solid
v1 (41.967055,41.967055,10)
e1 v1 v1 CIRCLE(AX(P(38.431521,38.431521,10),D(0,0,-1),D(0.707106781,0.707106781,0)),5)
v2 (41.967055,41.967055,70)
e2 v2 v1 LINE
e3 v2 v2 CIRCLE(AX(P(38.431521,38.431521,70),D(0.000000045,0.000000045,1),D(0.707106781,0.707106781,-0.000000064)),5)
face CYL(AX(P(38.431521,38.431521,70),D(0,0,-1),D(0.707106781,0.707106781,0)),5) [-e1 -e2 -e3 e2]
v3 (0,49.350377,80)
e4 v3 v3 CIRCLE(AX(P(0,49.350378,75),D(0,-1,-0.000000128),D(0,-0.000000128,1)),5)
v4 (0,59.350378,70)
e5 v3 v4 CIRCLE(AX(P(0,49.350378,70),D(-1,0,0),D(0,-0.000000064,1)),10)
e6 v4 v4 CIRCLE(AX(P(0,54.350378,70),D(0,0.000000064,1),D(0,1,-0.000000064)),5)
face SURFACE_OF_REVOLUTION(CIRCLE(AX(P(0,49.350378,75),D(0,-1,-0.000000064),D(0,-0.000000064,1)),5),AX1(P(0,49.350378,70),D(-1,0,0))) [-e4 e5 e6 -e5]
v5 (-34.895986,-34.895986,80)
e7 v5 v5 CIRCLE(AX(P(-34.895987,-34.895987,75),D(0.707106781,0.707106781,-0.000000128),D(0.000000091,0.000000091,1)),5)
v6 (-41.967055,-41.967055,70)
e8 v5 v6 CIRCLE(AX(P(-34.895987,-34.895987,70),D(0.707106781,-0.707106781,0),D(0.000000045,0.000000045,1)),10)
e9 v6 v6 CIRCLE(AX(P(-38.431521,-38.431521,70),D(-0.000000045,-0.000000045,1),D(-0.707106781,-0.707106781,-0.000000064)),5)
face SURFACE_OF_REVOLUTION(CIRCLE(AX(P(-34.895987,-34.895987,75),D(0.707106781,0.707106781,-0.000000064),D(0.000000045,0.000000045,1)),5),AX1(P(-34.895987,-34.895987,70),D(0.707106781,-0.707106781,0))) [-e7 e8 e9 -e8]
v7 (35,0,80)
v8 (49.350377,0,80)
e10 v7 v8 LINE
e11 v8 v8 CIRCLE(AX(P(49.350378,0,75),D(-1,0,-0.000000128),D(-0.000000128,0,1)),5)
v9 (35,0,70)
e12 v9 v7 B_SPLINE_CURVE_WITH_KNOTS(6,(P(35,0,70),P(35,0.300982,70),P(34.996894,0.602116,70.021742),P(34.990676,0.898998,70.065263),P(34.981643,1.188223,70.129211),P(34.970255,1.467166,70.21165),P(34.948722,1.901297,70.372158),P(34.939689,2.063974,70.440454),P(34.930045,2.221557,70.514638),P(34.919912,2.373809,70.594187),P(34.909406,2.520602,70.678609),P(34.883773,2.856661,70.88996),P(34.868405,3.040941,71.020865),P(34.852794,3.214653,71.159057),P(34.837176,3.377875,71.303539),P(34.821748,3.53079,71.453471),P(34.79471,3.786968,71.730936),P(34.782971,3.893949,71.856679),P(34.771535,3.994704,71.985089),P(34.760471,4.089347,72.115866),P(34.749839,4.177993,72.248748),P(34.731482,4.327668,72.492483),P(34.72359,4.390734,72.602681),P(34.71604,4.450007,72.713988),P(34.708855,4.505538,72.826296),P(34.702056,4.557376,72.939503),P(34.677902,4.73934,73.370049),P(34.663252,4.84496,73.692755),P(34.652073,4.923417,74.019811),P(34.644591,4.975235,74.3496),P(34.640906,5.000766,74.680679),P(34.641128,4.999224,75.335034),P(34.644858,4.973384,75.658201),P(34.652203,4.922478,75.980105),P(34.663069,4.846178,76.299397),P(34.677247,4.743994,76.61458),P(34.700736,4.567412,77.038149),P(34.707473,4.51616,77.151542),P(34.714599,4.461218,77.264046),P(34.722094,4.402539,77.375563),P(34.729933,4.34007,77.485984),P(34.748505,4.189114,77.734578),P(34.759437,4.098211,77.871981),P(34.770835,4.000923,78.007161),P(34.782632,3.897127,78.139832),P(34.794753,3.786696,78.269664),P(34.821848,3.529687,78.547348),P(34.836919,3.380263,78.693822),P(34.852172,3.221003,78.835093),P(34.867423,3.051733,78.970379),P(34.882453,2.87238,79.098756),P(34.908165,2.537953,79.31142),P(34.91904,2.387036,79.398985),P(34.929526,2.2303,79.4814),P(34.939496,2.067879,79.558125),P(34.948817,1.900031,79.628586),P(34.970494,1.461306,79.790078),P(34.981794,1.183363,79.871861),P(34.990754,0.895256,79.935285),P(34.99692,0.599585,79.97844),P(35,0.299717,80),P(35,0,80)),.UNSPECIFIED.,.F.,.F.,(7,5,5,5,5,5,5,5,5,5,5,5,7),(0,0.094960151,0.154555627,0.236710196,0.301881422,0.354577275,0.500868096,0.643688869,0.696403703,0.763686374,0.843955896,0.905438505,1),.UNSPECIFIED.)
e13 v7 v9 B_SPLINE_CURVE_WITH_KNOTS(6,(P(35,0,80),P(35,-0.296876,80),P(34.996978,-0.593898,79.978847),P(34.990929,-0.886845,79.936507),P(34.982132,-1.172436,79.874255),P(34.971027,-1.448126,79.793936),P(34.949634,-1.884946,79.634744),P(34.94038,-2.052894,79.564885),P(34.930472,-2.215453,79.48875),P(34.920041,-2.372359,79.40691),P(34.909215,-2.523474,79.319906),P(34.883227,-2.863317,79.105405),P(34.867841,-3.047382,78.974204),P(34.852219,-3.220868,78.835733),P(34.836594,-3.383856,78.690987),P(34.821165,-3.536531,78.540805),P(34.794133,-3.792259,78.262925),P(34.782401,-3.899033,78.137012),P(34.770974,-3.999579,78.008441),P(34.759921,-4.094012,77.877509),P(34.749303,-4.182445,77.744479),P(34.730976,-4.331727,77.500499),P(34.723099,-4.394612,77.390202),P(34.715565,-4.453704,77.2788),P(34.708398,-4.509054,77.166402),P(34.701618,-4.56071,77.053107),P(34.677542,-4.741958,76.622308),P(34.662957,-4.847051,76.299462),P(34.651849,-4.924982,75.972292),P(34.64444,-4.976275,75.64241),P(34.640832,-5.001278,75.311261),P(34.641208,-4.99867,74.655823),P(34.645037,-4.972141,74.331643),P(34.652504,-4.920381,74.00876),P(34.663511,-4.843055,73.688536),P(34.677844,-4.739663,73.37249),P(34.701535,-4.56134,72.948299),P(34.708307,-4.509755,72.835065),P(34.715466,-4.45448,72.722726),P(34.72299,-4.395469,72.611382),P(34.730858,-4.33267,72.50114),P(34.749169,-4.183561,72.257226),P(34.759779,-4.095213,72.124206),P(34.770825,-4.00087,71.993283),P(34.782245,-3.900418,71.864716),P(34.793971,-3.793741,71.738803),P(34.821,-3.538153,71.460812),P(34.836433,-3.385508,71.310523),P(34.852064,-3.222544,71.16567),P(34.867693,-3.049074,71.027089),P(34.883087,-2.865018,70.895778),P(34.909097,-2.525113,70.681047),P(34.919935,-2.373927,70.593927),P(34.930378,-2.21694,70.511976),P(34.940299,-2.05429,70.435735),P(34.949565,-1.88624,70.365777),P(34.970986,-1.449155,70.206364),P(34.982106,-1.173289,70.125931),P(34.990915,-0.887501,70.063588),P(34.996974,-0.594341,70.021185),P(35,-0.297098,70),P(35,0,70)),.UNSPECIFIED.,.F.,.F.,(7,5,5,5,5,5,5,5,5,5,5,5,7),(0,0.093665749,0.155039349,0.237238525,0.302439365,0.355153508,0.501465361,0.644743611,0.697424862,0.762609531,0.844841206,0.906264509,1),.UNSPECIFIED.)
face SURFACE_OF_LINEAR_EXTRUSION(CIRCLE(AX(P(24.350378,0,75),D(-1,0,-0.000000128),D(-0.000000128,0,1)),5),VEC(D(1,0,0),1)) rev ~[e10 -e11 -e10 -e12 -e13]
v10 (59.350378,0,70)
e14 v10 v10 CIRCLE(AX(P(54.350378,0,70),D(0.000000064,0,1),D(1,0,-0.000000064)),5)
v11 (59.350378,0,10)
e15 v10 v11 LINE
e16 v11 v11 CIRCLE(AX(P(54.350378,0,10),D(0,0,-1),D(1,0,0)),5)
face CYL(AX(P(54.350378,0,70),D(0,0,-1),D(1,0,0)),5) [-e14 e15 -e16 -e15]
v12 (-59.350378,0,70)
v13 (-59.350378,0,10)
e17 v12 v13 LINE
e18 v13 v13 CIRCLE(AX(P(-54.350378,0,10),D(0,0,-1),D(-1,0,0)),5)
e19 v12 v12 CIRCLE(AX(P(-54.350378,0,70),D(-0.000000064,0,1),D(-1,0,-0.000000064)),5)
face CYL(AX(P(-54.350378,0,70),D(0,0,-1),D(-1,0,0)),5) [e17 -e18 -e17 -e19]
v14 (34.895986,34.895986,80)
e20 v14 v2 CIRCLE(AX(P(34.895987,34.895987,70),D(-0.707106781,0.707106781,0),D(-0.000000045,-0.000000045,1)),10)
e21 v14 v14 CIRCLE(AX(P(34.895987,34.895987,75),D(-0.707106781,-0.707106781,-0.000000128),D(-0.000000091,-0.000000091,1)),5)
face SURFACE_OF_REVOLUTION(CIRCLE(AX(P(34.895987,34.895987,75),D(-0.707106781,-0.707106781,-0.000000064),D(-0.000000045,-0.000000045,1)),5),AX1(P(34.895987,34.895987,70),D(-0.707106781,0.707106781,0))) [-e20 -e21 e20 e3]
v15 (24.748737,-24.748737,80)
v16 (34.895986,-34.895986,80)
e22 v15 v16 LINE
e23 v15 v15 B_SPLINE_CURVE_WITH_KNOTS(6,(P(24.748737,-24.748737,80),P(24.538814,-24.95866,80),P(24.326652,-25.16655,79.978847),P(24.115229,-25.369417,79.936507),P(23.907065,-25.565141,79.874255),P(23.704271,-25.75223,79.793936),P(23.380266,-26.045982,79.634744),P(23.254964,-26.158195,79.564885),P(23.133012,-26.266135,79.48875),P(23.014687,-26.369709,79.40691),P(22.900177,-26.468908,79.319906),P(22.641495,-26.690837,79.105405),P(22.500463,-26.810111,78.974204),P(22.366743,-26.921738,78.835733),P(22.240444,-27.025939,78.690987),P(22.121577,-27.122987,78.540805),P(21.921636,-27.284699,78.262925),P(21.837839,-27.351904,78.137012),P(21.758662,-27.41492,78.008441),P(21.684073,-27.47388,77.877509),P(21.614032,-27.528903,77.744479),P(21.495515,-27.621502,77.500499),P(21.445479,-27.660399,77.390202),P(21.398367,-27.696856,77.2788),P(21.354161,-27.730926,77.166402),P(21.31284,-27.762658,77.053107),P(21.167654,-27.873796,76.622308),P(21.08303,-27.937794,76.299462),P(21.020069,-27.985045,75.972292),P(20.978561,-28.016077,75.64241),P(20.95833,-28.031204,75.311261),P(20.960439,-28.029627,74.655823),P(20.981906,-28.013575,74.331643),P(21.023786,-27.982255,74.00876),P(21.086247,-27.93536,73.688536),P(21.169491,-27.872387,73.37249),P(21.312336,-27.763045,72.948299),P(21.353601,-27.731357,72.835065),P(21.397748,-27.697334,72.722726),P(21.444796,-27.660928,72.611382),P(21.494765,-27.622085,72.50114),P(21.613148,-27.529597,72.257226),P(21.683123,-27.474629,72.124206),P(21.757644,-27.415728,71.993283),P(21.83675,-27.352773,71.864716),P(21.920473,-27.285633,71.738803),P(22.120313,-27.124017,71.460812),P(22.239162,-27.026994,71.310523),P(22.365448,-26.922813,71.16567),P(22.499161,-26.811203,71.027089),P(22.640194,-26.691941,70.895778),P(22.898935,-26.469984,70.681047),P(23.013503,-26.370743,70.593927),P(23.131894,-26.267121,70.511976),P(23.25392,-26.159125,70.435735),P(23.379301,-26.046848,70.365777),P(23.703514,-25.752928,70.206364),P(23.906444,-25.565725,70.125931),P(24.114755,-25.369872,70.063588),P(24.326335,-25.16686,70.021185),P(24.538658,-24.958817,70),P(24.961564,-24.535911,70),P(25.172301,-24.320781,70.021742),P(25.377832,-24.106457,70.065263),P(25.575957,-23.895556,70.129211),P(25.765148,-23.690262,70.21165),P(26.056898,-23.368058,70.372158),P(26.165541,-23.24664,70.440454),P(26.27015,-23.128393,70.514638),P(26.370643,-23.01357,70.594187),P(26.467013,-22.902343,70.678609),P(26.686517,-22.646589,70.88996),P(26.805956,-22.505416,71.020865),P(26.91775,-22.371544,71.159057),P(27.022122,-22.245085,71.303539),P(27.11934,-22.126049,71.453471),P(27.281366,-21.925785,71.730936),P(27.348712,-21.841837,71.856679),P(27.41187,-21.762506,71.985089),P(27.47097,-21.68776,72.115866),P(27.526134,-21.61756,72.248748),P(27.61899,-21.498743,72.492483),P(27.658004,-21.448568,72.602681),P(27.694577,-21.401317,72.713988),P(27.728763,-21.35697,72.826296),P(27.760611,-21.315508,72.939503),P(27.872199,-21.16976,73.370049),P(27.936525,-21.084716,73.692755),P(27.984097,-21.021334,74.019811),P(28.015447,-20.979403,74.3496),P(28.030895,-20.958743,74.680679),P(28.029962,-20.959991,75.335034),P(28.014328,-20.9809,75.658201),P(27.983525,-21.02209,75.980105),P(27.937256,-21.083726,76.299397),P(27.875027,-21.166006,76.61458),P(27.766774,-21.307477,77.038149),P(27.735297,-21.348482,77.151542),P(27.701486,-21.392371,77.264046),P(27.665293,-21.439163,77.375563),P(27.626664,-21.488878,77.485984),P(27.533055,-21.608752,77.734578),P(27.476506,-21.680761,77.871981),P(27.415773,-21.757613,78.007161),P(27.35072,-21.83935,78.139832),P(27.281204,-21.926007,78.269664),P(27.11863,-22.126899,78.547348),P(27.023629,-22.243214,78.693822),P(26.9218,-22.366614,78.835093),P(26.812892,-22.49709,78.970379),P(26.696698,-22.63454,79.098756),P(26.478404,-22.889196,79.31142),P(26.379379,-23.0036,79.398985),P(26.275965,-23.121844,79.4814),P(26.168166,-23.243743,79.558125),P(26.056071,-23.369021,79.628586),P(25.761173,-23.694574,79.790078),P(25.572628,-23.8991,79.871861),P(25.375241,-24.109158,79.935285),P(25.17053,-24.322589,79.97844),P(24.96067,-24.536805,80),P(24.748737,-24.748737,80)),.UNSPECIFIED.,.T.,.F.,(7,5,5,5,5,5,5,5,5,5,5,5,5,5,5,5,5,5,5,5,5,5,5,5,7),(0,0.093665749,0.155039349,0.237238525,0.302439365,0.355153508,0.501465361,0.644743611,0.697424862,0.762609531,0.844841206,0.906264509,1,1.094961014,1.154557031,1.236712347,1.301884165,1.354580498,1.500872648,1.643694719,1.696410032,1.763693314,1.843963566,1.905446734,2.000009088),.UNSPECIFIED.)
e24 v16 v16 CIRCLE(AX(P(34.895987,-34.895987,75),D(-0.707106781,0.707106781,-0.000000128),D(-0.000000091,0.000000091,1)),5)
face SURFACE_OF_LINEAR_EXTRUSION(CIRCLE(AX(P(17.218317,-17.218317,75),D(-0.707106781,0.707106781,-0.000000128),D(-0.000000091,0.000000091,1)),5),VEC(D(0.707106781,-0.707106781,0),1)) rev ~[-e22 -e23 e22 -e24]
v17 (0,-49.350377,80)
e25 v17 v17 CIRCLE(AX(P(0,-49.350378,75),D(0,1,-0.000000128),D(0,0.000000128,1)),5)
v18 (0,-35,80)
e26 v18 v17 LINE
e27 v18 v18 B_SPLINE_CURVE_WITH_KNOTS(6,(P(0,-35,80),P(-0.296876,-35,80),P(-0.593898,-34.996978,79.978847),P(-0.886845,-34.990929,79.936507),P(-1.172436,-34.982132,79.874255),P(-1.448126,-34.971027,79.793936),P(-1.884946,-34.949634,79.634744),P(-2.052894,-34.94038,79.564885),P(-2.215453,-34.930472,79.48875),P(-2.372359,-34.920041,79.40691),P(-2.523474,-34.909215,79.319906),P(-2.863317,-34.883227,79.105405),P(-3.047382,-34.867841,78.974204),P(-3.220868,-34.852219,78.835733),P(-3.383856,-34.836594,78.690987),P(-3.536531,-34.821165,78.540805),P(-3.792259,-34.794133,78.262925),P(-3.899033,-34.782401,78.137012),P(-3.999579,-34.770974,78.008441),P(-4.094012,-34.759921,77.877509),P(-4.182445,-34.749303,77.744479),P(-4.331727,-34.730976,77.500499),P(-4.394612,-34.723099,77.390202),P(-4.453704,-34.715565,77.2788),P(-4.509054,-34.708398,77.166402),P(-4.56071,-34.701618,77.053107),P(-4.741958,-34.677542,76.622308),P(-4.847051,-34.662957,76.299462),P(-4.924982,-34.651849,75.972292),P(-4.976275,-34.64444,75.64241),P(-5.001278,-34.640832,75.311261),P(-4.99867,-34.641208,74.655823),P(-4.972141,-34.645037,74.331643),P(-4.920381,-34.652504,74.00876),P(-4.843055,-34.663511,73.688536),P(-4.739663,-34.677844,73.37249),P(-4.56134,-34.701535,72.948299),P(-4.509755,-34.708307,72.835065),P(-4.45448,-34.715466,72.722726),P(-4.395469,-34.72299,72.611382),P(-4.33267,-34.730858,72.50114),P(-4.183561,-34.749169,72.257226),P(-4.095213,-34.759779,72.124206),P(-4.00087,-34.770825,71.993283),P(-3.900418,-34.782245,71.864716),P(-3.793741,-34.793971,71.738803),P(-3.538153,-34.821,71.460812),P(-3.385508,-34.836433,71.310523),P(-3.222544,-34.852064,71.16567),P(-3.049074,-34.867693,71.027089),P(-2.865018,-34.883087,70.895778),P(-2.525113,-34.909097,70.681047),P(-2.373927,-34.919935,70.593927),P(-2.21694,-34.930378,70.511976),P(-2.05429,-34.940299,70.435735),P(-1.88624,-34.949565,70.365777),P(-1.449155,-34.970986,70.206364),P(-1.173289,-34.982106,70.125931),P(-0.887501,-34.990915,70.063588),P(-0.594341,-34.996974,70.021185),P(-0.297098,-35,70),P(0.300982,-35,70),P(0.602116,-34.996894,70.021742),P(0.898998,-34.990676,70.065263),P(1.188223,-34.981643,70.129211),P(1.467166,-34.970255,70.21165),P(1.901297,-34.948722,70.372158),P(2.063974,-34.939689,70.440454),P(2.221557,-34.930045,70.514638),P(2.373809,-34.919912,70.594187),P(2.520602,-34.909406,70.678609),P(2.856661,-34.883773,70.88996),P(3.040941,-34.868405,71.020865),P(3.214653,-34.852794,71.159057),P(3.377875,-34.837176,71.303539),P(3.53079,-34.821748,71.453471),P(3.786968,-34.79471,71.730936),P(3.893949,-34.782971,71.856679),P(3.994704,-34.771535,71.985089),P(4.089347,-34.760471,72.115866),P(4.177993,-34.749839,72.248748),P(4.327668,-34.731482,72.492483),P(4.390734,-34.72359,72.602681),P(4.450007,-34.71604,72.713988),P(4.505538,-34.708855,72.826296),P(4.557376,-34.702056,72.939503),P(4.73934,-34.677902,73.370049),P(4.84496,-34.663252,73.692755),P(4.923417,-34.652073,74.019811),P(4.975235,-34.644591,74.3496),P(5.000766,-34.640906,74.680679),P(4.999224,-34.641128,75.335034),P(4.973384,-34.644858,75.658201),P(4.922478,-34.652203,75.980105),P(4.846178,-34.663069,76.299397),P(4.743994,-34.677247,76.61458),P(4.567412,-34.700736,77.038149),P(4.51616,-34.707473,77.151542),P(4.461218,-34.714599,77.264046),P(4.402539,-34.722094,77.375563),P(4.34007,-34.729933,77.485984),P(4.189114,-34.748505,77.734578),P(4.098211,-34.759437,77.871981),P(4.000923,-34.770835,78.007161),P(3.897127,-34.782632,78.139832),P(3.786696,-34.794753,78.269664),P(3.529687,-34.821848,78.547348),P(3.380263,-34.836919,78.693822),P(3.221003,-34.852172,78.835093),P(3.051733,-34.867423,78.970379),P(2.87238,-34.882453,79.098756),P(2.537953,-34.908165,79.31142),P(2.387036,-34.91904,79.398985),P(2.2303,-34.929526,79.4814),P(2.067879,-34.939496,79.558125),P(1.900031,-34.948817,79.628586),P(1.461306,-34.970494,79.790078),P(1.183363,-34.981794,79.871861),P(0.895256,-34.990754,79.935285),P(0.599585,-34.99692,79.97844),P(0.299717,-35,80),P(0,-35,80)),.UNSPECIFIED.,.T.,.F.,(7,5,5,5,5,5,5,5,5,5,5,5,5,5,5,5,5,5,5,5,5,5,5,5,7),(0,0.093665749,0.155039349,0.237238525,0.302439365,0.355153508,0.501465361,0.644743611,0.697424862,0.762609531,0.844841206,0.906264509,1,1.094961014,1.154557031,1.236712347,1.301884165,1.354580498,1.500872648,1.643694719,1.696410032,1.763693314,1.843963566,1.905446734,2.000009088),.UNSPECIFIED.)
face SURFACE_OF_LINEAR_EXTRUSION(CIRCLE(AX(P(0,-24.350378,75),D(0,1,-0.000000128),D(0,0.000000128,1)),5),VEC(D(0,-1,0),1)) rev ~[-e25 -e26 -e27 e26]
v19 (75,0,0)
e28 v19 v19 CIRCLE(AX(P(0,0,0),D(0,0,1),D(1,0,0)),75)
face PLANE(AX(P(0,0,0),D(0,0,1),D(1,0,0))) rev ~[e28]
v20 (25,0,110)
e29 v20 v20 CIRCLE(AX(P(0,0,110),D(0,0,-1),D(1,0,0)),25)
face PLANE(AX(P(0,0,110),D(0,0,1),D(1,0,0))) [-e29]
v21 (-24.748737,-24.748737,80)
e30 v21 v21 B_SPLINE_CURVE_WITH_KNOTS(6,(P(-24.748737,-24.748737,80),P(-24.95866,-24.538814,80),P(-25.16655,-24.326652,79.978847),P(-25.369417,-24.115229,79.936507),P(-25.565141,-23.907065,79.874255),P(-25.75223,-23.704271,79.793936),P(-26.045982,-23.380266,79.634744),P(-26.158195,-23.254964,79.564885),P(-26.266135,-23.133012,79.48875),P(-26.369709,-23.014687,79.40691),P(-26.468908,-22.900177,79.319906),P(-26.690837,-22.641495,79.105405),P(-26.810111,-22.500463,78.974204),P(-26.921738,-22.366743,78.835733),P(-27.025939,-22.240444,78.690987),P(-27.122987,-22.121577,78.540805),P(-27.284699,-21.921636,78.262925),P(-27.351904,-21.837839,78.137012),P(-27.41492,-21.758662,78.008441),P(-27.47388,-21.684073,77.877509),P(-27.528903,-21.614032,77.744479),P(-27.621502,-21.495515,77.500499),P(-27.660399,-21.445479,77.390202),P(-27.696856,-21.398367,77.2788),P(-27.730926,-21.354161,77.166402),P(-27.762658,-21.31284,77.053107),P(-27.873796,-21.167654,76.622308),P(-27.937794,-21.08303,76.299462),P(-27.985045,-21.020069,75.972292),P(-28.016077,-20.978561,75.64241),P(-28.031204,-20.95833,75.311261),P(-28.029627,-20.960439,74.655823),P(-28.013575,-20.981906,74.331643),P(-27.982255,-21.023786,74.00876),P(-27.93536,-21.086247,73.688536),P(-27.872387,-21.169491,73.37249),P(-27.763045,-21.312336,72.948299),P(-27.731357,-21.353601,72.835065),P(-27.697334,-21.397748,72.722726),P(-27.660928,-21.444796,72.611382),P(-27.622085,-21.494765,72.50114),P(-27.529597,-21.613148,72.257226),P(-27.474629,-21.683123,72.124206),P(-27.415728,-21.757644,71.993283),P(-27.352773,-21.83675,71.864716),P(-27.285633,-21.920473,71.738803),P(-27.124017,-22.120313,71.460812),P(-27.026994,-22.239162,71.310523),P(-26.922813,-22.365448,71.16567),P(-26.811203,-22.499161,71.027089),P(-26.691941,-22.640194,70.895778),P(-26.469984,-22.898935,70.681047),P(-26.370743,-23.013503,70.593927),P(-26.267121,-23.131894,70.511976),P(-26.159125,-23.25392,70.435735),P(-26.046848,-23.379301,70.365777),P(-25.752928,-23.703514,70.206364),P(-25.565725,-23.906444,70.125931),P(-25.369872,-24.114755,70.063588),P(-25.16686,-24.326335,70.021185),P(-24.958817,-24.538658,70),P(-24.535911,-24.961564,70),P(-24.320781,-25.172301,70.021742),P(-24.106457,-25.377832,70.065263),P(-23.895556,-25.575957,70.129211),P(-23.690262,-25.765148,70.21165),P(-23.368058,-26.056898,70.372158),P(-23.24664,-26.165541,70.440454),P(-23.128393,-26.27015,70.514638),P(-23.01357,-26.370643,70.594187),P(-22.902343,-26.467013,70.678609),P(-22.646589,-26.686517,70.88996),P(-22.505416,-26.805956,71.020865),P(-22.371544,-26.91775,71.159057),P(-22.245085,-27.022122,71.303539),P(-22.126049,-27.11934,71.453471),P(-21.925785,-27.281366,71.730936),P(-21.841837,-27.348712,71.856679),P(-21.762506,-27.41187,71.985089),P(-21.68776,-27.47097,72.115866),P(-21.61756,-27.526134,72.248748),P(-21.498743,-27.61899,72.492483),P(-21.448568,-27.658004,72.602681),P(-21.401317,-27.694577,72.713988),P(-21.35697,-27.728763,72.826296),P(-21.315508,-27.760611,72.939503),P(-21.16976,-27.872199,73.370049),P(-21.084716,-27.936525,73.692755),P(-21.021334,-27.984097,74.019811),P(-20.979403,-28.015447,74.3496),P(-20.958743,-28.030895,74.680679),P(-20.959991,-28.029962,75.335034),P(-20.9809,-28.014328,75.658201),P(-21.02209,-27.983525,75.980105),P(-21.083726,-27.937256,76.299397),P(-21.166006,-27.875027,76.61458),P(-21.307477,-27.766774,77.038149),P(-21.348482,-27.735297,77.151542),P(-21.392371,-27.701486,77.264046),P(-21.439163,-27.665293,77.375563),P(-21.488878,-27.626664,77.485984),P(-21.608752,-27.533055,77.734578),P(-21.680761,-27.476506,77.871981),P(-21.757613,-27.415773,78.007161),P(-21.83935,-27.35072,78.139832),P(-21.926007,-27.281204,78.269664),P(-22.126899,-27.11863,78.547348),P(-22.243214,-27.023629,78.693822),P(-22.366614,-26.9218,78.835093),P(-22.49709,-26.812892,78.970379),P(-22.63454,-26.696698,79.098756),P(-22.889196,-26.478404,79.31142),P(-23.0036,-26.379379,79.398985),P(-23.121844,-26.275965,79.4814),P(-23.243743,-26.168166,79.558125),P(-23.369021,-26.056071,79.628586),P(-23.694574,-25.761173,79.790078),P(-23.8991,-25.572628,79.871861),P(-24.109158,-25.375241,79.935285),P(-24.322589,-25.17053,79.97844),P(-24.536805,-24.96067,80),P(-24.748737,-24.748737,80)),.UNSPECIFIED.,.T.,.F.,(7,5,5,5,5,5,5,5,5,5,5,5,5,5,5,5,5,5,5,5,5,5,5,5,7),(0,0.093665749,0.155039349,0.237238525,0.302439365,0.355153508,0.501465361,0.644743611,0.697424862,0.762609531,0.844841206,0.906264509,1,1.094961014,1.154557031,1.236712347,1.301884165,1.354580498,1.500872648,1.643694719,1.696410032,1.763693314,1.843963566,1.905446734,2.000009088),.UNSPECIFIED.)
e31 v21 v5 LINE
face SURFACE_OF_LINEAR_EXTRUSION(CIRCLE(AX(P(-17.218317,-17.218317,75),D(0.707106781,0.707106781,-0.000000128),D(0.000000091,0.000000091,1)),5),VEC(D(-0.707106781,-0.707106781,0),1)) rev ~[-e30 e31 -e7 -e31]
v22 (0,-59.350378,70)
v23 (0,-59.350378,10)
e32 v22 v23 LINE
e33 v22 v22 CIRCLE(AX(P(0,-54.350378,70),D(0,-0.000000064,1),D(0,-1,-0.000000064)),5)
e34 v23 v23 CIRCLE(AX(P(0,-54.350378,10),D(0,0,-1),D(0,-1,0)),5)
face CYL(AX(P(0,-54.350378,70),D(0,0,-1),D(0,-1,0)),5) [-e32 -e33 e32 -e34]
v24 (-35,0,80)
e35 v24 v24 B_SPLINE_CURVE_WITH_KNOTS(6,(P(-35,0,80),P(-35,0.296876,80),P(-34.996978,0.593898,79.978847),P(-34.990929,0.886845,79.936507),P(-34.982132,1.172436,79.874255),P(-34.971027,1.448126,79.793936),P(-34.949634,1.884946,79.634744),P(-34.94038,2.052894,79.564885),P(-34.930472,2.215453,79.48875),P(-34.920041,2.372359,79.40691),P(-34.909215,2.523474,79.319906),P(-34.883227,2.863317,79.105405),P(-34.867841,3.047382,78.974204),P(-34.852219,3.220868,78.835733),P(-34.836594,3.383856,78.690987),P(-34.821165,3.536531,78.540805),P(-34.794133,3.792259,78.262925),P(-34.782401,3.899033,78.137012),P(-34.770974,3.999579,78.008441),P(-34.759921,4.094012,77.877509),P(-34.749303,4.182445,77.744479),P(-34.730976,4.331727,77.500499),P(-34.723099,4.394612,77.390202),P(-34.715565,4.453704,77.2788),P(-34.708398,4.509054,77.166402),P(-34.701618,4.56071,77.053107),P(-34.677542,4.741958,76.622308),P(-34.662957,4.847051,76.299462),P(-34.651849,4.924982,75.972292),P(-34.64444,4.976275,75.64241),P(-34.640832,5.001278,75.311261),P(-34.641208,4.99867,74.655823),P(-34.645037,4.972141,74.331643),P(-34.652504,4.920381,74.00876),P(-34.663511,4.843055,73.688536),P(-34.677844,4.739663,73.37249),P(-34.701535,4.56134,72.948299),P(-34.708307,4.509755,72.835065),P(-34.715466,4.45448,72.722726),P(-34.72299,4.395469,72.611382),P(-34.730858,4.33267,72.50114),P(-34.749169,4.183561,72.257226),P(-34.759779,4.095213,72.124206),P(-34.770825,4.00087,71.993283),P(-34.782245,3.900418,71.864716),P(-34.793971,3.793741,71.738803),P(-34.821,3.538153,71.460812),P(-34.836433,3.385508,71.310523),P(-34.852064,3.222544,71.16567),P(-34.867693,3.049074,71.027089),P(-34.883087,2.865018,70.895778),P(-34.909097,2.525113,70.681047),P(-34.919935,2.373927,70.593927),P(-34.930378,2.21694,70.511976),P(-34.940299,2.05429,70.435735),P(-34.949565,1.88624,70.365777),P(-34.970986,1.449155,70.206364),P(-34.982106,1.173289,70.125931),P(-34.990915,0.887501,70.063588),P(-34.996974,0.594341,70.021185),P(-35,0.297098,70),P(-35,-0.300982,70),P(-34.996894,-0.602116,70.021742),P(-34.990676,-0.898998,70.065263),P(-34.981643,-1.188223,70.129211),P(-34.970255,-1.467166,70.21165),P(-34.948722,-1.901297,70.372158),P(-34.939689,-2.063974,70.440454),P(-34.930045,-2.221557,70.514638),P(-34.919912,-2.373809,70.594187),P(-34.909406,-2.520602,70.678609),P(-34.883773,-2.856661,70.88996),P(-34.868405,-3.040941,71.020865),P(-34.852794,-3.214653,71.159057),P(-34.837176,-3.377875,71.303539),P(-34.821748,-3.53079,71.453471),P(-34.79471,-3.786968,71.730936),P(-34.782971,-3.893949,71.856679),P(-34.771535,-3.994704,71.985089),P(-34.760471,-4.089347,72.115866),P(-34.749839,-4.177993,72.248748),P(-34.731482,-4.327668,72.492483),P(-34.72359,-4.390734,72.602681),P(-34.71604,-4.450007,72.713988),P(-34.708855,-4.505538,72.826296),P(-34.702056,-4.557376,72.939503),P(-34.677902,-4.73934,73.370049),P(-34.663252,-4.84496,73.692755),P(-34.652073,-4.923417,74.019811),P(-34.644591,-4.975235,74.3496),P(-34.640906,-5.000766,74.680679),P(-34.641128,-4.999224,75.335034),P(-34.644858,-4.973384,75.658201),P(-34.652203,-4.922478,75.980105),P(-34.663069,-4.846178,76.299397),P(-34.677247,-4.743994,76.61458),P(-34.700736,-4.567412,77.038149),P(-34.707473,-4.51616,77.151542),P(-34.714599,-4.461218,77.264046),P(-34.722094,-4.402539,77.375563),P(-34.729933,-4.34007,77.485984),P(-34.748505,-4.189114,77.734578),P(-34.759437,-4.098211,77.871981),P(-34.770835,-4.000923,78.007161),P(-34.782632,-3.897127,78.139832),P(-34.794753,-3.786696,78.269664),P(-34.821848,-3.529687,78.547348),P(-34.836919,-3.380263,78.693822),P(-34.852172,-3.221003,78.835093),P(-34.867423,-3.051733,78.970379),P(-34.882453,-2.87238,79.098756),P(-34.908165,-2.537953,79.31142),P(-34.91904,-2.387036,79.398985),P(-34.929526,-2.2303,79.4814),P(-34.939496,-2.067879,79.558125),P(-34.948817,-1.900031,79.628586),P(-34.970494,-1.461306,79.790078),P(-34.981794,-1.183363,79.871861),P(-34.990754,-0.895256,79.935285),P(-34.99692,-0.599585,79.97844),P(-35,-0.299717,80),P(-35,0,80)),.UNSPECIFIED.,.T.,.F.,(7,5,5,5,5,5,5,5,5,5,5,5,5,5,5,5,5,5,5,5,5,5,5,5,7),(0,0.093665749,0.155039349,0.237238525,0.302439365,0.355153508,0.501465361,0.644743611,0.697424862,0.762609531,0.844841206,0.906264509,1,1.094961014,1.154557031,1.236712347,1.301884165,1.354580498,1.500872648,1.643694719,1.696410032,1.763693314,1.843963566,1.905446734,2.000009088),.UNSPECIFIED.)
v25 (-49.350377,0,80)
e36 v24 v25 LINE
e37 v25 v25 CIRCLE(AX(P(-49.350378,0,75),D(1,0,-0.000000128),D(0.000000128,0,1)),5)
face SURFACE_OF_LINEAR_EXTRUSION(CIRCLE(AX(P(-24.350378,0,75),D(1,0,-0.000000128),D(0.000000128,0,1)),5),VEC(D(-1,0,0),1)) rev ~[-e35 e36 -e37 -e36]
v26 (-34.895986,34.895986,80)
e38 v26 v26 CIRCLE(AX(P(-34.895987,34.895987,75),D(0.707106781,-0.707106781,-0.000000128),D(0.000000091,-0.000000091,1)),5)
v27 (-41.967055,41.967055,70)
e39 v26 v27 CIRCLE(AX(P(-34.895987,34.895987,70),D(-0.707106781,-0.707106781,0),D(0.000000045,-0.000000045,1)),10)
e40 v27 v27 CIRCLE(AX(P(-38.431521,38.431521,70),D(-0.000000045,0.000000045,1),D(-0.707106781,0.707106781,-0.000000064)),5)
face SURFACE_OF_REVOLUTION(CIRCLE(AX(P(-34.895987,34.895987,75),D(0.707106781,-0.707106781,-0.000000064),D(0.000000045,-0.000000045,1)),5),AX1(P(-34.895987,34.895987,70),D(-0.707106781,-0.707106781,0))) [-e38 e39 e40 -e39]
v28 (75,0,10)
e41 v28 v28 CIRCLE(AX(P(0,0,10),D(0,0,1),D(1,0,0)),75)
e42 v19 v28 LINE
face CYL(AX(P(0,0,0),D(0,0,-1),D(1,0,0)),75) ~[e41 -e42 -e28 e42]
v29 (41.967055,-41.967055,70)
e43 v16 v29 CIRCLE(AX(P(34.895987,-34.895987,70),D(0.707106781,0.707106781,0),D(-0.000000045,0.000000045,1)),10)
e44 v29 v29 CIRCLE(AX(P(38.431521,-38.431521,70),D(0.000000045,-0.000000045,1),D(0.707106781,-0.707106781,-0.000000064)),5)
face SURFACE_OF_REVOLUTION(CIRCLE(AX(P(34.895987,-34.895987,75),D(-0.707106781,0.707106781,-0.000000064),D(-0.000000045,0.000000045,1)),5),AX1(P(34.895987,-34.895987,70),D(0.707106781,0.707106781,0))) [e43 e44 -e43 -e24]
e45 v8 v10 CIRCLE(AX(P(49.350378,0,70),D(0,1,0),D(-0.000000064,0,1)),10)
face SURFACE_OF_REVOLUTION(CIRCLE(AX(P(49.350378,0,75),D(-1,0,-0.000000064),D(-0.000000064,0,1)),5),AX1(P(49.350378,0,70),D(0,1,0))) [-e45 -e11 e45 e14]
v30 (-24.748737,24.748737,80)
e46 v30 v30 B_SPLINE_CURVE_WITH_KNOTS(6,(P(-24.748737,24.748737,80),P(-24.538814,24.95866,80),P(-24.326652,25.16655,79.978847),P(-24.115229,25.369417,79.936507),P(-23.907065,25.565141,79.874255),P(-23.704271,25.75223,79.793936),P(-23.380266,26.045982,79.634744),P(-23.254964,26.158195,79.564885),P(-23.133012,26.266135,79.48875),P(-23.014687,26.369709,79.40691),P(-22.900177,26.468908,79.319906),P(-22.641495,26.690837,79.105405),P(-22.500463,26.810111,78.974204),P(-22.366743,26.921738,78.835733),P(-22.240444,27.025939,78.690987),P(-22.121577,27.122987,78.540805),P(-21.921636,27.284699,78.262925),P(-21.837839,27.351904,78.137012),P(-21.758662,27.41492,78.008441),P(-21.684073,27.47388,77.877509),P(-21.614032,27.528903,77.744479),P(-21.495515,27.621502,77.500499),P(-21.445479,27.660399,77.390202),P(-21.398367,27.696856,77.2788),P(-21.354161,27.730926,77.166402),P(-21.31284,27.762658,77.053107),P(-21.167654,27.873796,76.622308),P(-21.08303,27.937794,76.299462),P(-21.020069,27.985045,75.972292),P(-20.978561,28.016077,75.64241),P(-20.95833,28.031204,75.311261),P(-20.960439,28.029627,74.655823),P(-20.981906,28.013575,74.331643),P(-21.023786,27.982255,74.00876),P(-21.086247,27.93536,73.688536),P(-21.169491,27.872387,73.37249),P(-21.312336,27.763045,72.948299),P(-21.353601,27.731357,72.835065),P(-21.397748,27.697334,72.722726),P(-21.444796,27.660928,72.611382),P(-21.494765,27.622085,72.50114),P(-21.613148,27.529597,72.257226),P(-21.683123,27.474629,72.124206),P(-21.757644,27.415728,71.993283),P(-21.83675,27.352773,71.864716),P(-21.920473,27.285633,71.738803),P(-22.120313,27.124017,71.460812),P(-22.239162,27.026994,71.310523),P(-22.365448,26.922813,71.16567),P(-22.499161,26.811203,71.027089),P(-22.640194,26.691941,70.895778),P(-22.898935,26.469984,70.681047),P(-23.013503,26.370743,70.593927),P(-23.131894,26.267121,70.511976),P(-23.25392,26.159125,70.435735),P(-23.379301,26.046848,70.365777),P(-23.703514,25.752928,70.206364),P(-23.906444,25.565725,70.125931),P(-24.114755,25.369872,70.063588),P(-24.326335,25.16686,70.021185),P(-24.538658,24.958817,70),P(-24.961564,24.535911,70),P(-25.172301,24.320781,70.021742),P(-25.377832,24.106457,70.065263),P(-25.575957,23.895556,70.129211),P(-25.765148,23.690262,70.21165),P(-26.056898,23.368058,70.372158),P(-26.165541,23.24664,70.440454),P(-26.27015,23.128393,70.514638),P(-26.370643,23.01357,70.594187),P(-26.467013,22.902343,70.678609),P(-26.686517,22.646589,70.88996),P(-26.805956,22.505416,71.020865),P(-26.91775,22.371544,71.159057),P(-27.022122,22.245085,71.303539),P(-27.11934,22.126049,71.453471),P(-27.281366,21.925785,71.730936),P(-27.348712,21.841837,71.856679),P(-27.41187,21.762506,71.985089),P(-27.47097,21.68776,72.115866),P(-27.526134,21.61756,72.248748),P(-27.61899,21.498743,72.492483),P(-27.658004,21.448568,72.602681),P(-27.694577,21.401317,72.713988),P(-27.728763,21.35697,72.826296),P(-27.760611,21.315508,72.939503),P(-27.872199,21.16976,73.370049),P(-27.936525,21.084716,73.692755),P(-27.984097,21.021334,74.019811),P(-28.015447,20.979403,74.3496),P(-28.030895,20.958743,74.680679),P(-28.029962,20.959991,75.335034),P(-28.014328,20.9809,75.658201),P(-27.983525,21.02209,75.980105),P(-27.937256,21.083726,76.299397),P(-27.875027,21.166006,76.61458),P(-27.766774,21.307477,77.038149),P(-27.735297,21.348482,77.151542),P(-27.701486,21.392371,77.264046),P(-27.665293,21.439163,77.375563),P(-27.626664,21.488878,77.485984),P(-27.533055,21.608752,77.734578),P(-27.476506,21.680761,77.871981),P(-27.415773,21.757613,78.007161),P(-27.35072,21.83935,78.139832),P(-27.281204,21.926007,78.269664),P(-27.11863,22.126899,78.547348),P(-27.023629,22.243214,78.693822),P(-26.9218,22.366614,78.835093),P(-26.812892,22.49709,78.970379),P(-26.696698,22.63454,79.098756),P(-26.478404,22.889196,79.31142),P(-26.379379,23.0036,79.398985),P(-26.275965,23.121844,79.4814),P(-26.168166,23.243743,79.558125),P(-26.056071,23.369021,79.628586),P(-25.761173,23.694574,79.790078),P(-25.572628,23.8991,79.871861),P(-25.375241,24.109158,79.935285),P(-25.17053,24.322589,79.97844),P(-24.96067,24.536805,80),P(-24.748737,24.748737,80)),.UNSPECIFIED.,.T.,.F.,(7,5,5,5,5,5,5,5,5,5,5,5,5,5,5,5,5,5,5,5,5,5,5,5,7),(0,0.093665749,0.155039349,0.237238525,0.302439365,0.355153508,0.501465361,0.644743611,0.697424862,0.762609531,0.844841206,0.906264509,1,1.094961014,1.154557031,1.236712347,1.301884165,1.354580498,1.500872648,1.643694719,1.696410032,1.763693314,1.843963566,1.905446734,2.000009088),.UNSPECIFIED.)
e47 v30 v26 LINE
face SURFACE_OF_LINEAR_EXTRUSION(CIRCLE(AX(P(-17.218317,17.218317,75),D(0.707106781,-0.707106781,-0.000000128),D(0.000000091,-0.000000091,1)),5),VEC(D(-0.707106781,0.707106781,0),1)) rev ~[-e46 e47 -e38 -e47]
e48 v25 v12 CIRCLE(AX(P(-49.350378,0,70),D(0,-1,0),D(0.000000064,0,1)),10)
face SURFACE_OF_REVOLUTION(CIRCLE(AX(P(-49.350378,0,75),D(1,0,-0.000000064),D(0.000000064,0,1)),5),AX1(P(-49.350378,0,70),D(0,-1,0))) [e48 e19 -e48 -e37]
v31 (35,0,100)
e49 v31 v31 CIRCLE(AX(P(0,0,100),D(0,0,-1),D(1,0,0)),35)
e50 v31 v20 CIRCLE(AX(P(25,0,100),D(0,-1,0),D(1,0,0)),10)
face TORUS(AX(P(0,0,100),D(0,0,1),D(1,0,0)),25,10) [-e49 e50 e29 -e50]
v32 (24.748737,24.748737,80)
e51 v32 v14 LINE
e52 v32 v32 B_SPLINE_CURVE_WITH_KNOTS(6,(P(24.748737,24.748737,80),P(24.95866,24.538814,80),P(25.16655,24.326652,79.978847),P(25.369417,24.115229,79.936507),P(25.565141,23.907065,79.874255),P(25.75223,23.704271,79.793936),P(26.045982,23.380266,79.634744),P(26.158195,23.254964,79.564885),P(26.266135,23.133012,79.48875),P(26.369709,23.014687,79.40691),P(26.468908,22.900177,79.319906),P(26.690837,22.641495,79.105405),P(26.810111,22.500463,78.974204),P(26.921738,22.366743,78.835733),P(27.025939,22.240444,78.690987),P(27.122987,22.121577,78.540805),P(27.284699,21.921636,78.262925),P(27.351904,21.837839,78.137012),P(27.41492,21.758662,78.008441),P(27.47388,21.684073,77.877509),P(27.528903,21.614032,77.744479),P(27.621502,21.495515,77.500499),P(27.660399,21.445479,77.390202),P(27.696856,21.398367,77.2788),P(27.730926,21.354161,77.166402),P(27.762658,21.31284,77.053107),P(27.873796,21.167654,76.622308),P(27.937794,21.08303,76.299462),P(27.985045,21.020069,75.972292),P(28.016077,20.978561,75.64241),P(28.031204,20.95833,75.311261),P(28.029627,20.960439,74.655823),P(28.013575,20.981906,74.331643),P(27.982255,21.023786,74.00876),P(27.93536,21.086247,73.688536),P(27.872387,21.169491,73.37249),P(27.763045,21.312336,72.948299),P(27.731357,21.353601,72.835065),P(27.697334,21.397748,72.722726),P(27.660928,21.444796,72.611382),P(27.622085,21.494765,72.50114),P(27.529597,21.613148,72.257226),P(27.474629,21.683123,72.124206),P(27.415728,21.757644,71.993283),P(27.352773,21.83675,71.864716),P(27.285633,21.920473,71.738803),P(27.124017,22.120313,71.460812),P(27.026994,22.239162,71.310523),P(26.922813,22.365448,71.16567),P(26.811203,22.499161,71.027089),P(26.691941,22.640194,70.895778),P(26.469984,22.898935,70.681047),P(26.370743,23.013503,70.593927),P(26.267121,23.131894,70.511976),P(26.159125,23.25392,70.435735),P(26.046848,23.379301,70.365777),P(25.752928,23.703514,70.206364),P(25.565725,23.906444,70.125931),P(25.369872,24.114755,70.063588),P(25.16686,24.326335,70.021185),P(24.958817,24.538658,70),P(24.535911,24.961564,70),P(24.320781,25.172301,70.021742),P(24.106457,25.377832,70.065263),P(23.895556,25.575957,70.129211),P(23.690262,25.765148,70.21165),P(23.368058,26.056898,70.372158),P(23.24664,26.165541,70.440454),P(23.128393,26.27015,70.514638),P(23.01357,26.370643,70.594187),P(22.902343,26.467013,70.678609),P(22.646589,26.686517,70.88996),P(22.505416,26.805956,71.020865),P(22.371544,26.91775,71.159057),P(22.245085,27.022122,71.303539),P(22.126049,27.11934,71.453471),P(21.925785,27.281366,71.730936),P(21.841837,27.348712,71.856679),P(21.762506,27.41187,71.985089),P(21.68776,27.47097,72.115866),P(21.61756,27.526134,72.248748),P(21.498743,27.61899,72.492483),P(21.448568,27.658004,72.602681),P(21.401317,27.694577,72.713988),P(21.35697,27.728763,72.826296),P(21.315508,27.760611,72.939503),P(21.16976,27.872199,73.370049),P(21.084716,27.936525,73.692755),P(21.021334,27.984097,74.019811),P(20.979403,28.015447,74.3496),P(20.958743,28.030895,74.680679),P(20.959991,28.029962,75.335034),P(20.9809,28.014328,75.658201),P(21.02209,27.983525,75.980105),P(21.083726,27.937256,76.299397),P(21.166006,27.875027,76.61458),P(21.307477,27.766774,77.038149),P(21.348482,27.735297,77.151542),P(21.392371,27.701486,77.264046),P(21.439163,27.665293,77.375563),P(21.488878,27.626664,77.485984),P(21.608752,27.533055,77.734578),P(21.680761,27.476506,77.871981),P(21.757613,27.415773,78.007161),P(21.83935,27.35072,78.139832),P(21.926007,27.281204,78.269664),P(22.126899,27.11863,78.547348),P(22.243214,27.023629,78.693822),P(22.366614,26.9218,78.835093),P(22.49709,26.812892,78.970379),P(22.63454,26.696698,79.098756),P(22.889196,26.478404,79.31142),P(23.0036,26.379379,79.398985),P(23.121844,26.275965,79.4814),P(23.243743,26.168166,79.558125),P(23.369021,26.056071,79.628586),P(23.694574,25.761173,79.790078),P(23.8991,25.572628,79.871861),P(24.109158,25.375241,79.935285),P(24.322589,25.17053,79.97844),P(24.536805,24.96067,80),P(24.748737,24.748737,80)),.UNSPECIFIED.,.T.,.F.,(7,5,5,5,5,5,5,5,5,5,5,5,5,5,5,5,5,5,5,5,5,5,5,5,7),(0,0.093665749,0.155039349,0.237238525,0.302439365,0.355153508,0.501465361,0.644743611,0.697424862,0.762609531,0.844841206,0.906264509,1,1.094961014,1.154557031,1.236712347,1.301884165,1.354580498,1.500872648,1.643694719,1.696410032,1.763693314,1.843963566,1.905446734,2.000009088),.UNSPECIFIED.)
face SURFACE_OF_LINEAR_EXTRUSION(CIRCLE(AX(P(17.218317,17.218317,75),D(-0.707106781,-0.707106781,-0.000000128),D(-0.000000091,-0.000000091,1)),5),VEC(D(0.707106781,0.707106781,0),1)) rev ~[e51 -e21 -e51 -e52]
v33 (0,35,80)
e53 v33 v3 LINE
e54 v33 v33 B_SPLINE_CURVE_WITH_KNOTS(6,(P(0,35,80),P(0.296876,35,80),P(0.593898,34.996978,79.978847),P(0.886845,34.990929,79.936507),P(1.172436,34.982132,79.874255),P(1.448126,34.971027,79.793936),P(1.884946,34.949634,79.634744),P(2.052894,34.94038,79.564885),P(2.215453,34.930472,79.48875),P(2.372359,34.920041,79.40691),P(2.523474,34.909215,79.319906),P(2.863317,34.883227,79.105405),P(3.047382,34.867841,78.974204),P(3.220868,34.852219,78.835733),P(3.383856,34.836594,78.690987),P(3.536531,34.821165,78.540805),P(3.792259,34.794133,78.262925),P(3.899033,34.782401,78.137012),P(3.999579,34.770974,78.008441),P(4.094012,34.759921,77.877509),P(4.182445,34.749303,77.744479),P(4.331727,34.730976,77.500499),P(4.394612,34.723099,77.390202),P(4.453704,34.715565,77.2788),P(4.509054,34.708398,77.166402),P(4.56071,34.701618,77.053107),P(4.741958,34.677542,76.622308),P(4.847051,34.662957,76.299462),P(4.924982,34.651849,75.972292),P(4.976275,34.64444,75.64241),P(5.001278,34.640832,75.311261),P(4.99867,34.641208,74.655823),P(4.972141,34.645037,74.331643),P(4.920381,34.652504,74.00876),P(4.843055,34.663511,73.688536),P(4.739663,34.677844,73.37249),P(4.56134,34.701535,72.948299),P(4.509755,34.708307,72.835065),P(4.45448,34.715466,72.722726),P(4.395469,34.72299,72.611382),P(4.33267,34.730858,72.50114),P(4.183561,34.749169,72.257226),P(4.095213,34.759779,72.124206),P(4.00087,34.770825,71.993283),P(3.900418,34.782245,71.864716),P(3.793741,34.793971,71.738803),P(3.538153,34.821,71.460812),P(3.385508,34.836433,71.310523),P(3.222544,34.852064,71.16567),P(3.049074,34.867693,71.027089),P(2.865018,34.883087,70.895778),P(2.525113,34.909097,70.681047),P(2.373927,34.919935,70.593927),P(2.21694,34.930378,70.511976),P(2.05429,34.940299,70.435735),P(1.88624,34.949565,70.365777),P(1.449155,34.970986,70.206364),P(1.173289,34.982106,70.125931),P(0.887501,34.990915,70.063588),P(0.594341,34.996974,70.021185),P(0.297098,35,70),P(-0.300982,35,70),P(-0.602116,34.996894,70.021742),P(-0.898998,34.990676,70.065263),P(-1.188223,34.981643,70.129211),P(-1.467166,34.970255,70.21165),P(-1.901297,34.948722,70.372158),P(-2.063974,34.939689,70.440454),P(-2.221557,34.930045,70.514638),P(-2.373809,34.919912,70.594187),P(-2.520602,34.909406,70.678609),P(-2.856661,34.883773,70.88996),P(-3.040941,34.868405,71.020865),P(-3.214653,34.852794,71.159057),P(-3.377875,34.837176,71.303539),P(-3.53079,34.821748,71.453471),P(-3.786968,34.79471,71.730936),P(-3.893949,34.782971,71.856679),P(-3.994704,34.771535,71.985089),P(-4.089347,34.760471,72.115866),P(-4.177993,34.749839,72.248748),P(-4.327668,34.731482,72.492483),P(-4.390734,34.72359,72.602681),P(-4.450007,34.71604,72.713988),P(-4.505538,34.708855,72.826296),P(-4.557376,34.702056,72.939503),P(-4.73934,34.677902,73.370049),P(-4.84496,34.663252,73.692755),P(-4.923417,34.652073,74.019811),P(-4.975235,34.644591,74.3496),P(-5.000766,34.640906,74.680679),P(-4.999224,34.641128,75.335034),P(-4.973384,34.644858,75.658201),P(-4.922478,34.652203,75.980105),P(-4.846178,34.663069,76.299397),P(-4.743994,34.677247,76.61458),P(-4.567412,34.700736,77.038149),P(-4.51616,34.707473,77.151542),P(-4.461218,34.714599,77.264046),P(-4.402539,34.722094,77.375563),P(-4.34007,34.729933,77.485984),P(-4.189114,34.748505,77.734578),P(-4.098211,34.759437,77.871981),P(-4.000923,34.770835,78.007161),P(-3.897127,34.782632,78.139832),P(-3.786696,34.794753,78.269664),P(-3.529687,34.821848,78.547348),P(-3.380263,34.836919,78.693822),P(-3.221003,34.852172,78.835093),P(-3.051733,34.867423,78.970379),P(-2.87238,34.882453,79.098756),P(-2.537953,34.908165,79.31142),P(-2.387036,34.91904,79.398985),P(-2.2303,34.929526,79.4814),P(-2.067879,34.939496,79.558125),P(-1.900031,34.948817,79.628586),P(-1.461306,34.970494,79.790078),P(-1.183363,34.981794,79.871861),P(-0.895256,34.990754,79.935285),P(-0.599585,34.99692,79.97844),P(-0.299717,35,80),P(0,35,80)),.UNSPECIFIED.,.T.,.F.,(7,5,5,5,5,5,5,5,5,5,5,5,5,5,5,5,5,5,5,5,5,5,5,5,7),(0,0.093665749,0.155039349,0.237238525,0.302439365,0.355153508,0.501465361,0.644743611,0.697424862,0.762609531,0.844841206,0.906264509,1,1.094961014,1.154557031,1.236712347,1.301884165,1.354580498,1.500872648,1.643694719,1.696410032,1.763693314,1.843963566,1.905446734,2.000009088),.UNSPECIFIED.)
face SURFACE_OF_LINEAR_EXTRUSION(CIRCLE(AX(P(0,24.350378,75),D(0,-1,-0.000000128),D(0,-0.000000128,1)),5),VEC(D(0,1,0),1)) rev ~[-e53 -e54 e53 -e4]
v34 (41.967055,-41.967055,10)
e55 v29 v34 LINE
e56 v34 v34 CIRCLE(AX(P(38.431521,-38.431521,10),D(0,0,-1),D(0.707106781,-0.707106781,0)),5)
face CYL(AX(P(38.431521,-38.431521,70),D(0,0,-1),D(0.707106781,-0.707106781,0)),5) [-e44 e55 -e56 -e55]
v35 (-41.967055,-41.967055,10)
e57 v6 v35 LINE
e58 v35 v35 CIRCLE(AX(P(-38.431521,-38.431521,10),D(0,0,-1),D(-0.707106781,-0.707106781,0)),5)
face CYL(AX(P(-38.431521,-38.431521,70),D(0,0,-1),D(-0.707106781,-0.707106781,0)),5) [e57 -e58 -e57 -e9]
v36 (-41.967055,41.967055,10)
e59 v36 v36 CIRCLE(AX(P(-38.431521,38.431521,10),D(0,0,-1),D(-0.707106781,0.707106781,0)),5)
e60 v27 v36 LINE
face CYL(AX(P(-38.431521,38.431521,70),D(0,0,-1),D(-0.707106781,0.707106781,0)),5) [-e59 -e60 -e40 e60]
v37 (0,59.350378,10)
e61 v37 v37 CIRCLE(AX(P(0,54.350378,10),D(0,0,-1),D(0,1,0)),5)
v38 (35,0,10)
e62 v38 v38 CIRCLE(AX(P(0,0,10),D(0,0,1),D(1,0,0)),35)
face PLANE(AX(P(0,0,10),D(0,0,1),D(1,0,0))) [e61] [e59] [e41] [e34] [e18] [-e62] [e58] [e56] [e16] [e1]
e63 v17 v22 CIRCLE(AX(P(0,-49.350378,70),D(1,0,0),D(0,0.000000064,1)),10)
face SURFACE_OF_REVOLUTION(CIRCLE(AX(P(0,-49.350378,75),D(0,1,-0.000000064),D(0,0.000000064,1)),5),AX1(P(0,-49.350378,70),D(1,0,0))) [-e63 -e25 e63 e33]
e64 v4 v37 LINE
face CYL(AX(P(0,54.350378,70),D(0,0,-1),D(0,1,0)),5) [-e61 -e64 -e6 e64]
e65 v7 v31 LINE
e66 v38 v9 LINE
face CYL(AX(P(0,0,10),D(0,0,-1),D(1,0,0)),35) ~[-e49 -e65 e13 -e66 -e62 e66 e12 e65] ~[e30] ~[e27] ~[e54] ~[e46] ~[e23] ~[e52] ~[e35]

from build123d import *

# Parameters (mm, degrees)
SKETCH_R           = 75
PAD_DEPTH          = 10
SKETCH001_R        = 35
PAD001_DEPTH       = 100
FILLET_R           = 10
SKETCH003_R        = 5
POLARPATTERN_COUNT = 8


with BuildPart() as part:
    # Sketch → Pad (new body)
    with BuildSketch(Plane.XY):
        Circle(SKETCH_R)
    extrude(amount=PAD_DEPTH)

    # Sketch001 (on Face3 of Pad) → Pad001 (join)
    with BuildSketch(Plane.XY.offset(10)):
        Circle(SKETCH001_R)
    extrude(amount=PAD001_DEPTH)

    # Fillet
    fillet_edges = [part.edges().sort_by_distance(p)[0] for p in [
        (-35, 0, 110),
    ]]
    fillet(fillet_edges, radius=FILLET_R)

    # AdditivePipe: sweep along a path in Sketch002
    with BuildLine(Plane.XZ) as additivepipe_path:
        Line((24.350378, 75), (49.350378, 75))
        ThreePointArc((49.350378, 75), (52.885912, 73.535534), (54.350378, 70))
        Line((54.350378, 70), (54.350378, 10))
    # Sketch003 (on Face3 of Fillet) → AdditivePipe (sweep)
    with BuildSketch(Plane.XY.offset(10)):
        with Locations((54.350378, 0)):
            Circle(SKETCH003_R)
    sweep(path=additivepipe_path.line)

    # PolarPattern: part ×8 about axis
    polarpattern_axis = Axis((0, 0, 0), (0, 0, 1))


with BuildPart() as part_1:
    add(part.part)
    for i in range(1, POLARPATTERN_COUNT):
        add(part.part.rotate(polarpattern_axis, i * 360 / POLARPATTERN_COUNT))


solid = part_1.part
